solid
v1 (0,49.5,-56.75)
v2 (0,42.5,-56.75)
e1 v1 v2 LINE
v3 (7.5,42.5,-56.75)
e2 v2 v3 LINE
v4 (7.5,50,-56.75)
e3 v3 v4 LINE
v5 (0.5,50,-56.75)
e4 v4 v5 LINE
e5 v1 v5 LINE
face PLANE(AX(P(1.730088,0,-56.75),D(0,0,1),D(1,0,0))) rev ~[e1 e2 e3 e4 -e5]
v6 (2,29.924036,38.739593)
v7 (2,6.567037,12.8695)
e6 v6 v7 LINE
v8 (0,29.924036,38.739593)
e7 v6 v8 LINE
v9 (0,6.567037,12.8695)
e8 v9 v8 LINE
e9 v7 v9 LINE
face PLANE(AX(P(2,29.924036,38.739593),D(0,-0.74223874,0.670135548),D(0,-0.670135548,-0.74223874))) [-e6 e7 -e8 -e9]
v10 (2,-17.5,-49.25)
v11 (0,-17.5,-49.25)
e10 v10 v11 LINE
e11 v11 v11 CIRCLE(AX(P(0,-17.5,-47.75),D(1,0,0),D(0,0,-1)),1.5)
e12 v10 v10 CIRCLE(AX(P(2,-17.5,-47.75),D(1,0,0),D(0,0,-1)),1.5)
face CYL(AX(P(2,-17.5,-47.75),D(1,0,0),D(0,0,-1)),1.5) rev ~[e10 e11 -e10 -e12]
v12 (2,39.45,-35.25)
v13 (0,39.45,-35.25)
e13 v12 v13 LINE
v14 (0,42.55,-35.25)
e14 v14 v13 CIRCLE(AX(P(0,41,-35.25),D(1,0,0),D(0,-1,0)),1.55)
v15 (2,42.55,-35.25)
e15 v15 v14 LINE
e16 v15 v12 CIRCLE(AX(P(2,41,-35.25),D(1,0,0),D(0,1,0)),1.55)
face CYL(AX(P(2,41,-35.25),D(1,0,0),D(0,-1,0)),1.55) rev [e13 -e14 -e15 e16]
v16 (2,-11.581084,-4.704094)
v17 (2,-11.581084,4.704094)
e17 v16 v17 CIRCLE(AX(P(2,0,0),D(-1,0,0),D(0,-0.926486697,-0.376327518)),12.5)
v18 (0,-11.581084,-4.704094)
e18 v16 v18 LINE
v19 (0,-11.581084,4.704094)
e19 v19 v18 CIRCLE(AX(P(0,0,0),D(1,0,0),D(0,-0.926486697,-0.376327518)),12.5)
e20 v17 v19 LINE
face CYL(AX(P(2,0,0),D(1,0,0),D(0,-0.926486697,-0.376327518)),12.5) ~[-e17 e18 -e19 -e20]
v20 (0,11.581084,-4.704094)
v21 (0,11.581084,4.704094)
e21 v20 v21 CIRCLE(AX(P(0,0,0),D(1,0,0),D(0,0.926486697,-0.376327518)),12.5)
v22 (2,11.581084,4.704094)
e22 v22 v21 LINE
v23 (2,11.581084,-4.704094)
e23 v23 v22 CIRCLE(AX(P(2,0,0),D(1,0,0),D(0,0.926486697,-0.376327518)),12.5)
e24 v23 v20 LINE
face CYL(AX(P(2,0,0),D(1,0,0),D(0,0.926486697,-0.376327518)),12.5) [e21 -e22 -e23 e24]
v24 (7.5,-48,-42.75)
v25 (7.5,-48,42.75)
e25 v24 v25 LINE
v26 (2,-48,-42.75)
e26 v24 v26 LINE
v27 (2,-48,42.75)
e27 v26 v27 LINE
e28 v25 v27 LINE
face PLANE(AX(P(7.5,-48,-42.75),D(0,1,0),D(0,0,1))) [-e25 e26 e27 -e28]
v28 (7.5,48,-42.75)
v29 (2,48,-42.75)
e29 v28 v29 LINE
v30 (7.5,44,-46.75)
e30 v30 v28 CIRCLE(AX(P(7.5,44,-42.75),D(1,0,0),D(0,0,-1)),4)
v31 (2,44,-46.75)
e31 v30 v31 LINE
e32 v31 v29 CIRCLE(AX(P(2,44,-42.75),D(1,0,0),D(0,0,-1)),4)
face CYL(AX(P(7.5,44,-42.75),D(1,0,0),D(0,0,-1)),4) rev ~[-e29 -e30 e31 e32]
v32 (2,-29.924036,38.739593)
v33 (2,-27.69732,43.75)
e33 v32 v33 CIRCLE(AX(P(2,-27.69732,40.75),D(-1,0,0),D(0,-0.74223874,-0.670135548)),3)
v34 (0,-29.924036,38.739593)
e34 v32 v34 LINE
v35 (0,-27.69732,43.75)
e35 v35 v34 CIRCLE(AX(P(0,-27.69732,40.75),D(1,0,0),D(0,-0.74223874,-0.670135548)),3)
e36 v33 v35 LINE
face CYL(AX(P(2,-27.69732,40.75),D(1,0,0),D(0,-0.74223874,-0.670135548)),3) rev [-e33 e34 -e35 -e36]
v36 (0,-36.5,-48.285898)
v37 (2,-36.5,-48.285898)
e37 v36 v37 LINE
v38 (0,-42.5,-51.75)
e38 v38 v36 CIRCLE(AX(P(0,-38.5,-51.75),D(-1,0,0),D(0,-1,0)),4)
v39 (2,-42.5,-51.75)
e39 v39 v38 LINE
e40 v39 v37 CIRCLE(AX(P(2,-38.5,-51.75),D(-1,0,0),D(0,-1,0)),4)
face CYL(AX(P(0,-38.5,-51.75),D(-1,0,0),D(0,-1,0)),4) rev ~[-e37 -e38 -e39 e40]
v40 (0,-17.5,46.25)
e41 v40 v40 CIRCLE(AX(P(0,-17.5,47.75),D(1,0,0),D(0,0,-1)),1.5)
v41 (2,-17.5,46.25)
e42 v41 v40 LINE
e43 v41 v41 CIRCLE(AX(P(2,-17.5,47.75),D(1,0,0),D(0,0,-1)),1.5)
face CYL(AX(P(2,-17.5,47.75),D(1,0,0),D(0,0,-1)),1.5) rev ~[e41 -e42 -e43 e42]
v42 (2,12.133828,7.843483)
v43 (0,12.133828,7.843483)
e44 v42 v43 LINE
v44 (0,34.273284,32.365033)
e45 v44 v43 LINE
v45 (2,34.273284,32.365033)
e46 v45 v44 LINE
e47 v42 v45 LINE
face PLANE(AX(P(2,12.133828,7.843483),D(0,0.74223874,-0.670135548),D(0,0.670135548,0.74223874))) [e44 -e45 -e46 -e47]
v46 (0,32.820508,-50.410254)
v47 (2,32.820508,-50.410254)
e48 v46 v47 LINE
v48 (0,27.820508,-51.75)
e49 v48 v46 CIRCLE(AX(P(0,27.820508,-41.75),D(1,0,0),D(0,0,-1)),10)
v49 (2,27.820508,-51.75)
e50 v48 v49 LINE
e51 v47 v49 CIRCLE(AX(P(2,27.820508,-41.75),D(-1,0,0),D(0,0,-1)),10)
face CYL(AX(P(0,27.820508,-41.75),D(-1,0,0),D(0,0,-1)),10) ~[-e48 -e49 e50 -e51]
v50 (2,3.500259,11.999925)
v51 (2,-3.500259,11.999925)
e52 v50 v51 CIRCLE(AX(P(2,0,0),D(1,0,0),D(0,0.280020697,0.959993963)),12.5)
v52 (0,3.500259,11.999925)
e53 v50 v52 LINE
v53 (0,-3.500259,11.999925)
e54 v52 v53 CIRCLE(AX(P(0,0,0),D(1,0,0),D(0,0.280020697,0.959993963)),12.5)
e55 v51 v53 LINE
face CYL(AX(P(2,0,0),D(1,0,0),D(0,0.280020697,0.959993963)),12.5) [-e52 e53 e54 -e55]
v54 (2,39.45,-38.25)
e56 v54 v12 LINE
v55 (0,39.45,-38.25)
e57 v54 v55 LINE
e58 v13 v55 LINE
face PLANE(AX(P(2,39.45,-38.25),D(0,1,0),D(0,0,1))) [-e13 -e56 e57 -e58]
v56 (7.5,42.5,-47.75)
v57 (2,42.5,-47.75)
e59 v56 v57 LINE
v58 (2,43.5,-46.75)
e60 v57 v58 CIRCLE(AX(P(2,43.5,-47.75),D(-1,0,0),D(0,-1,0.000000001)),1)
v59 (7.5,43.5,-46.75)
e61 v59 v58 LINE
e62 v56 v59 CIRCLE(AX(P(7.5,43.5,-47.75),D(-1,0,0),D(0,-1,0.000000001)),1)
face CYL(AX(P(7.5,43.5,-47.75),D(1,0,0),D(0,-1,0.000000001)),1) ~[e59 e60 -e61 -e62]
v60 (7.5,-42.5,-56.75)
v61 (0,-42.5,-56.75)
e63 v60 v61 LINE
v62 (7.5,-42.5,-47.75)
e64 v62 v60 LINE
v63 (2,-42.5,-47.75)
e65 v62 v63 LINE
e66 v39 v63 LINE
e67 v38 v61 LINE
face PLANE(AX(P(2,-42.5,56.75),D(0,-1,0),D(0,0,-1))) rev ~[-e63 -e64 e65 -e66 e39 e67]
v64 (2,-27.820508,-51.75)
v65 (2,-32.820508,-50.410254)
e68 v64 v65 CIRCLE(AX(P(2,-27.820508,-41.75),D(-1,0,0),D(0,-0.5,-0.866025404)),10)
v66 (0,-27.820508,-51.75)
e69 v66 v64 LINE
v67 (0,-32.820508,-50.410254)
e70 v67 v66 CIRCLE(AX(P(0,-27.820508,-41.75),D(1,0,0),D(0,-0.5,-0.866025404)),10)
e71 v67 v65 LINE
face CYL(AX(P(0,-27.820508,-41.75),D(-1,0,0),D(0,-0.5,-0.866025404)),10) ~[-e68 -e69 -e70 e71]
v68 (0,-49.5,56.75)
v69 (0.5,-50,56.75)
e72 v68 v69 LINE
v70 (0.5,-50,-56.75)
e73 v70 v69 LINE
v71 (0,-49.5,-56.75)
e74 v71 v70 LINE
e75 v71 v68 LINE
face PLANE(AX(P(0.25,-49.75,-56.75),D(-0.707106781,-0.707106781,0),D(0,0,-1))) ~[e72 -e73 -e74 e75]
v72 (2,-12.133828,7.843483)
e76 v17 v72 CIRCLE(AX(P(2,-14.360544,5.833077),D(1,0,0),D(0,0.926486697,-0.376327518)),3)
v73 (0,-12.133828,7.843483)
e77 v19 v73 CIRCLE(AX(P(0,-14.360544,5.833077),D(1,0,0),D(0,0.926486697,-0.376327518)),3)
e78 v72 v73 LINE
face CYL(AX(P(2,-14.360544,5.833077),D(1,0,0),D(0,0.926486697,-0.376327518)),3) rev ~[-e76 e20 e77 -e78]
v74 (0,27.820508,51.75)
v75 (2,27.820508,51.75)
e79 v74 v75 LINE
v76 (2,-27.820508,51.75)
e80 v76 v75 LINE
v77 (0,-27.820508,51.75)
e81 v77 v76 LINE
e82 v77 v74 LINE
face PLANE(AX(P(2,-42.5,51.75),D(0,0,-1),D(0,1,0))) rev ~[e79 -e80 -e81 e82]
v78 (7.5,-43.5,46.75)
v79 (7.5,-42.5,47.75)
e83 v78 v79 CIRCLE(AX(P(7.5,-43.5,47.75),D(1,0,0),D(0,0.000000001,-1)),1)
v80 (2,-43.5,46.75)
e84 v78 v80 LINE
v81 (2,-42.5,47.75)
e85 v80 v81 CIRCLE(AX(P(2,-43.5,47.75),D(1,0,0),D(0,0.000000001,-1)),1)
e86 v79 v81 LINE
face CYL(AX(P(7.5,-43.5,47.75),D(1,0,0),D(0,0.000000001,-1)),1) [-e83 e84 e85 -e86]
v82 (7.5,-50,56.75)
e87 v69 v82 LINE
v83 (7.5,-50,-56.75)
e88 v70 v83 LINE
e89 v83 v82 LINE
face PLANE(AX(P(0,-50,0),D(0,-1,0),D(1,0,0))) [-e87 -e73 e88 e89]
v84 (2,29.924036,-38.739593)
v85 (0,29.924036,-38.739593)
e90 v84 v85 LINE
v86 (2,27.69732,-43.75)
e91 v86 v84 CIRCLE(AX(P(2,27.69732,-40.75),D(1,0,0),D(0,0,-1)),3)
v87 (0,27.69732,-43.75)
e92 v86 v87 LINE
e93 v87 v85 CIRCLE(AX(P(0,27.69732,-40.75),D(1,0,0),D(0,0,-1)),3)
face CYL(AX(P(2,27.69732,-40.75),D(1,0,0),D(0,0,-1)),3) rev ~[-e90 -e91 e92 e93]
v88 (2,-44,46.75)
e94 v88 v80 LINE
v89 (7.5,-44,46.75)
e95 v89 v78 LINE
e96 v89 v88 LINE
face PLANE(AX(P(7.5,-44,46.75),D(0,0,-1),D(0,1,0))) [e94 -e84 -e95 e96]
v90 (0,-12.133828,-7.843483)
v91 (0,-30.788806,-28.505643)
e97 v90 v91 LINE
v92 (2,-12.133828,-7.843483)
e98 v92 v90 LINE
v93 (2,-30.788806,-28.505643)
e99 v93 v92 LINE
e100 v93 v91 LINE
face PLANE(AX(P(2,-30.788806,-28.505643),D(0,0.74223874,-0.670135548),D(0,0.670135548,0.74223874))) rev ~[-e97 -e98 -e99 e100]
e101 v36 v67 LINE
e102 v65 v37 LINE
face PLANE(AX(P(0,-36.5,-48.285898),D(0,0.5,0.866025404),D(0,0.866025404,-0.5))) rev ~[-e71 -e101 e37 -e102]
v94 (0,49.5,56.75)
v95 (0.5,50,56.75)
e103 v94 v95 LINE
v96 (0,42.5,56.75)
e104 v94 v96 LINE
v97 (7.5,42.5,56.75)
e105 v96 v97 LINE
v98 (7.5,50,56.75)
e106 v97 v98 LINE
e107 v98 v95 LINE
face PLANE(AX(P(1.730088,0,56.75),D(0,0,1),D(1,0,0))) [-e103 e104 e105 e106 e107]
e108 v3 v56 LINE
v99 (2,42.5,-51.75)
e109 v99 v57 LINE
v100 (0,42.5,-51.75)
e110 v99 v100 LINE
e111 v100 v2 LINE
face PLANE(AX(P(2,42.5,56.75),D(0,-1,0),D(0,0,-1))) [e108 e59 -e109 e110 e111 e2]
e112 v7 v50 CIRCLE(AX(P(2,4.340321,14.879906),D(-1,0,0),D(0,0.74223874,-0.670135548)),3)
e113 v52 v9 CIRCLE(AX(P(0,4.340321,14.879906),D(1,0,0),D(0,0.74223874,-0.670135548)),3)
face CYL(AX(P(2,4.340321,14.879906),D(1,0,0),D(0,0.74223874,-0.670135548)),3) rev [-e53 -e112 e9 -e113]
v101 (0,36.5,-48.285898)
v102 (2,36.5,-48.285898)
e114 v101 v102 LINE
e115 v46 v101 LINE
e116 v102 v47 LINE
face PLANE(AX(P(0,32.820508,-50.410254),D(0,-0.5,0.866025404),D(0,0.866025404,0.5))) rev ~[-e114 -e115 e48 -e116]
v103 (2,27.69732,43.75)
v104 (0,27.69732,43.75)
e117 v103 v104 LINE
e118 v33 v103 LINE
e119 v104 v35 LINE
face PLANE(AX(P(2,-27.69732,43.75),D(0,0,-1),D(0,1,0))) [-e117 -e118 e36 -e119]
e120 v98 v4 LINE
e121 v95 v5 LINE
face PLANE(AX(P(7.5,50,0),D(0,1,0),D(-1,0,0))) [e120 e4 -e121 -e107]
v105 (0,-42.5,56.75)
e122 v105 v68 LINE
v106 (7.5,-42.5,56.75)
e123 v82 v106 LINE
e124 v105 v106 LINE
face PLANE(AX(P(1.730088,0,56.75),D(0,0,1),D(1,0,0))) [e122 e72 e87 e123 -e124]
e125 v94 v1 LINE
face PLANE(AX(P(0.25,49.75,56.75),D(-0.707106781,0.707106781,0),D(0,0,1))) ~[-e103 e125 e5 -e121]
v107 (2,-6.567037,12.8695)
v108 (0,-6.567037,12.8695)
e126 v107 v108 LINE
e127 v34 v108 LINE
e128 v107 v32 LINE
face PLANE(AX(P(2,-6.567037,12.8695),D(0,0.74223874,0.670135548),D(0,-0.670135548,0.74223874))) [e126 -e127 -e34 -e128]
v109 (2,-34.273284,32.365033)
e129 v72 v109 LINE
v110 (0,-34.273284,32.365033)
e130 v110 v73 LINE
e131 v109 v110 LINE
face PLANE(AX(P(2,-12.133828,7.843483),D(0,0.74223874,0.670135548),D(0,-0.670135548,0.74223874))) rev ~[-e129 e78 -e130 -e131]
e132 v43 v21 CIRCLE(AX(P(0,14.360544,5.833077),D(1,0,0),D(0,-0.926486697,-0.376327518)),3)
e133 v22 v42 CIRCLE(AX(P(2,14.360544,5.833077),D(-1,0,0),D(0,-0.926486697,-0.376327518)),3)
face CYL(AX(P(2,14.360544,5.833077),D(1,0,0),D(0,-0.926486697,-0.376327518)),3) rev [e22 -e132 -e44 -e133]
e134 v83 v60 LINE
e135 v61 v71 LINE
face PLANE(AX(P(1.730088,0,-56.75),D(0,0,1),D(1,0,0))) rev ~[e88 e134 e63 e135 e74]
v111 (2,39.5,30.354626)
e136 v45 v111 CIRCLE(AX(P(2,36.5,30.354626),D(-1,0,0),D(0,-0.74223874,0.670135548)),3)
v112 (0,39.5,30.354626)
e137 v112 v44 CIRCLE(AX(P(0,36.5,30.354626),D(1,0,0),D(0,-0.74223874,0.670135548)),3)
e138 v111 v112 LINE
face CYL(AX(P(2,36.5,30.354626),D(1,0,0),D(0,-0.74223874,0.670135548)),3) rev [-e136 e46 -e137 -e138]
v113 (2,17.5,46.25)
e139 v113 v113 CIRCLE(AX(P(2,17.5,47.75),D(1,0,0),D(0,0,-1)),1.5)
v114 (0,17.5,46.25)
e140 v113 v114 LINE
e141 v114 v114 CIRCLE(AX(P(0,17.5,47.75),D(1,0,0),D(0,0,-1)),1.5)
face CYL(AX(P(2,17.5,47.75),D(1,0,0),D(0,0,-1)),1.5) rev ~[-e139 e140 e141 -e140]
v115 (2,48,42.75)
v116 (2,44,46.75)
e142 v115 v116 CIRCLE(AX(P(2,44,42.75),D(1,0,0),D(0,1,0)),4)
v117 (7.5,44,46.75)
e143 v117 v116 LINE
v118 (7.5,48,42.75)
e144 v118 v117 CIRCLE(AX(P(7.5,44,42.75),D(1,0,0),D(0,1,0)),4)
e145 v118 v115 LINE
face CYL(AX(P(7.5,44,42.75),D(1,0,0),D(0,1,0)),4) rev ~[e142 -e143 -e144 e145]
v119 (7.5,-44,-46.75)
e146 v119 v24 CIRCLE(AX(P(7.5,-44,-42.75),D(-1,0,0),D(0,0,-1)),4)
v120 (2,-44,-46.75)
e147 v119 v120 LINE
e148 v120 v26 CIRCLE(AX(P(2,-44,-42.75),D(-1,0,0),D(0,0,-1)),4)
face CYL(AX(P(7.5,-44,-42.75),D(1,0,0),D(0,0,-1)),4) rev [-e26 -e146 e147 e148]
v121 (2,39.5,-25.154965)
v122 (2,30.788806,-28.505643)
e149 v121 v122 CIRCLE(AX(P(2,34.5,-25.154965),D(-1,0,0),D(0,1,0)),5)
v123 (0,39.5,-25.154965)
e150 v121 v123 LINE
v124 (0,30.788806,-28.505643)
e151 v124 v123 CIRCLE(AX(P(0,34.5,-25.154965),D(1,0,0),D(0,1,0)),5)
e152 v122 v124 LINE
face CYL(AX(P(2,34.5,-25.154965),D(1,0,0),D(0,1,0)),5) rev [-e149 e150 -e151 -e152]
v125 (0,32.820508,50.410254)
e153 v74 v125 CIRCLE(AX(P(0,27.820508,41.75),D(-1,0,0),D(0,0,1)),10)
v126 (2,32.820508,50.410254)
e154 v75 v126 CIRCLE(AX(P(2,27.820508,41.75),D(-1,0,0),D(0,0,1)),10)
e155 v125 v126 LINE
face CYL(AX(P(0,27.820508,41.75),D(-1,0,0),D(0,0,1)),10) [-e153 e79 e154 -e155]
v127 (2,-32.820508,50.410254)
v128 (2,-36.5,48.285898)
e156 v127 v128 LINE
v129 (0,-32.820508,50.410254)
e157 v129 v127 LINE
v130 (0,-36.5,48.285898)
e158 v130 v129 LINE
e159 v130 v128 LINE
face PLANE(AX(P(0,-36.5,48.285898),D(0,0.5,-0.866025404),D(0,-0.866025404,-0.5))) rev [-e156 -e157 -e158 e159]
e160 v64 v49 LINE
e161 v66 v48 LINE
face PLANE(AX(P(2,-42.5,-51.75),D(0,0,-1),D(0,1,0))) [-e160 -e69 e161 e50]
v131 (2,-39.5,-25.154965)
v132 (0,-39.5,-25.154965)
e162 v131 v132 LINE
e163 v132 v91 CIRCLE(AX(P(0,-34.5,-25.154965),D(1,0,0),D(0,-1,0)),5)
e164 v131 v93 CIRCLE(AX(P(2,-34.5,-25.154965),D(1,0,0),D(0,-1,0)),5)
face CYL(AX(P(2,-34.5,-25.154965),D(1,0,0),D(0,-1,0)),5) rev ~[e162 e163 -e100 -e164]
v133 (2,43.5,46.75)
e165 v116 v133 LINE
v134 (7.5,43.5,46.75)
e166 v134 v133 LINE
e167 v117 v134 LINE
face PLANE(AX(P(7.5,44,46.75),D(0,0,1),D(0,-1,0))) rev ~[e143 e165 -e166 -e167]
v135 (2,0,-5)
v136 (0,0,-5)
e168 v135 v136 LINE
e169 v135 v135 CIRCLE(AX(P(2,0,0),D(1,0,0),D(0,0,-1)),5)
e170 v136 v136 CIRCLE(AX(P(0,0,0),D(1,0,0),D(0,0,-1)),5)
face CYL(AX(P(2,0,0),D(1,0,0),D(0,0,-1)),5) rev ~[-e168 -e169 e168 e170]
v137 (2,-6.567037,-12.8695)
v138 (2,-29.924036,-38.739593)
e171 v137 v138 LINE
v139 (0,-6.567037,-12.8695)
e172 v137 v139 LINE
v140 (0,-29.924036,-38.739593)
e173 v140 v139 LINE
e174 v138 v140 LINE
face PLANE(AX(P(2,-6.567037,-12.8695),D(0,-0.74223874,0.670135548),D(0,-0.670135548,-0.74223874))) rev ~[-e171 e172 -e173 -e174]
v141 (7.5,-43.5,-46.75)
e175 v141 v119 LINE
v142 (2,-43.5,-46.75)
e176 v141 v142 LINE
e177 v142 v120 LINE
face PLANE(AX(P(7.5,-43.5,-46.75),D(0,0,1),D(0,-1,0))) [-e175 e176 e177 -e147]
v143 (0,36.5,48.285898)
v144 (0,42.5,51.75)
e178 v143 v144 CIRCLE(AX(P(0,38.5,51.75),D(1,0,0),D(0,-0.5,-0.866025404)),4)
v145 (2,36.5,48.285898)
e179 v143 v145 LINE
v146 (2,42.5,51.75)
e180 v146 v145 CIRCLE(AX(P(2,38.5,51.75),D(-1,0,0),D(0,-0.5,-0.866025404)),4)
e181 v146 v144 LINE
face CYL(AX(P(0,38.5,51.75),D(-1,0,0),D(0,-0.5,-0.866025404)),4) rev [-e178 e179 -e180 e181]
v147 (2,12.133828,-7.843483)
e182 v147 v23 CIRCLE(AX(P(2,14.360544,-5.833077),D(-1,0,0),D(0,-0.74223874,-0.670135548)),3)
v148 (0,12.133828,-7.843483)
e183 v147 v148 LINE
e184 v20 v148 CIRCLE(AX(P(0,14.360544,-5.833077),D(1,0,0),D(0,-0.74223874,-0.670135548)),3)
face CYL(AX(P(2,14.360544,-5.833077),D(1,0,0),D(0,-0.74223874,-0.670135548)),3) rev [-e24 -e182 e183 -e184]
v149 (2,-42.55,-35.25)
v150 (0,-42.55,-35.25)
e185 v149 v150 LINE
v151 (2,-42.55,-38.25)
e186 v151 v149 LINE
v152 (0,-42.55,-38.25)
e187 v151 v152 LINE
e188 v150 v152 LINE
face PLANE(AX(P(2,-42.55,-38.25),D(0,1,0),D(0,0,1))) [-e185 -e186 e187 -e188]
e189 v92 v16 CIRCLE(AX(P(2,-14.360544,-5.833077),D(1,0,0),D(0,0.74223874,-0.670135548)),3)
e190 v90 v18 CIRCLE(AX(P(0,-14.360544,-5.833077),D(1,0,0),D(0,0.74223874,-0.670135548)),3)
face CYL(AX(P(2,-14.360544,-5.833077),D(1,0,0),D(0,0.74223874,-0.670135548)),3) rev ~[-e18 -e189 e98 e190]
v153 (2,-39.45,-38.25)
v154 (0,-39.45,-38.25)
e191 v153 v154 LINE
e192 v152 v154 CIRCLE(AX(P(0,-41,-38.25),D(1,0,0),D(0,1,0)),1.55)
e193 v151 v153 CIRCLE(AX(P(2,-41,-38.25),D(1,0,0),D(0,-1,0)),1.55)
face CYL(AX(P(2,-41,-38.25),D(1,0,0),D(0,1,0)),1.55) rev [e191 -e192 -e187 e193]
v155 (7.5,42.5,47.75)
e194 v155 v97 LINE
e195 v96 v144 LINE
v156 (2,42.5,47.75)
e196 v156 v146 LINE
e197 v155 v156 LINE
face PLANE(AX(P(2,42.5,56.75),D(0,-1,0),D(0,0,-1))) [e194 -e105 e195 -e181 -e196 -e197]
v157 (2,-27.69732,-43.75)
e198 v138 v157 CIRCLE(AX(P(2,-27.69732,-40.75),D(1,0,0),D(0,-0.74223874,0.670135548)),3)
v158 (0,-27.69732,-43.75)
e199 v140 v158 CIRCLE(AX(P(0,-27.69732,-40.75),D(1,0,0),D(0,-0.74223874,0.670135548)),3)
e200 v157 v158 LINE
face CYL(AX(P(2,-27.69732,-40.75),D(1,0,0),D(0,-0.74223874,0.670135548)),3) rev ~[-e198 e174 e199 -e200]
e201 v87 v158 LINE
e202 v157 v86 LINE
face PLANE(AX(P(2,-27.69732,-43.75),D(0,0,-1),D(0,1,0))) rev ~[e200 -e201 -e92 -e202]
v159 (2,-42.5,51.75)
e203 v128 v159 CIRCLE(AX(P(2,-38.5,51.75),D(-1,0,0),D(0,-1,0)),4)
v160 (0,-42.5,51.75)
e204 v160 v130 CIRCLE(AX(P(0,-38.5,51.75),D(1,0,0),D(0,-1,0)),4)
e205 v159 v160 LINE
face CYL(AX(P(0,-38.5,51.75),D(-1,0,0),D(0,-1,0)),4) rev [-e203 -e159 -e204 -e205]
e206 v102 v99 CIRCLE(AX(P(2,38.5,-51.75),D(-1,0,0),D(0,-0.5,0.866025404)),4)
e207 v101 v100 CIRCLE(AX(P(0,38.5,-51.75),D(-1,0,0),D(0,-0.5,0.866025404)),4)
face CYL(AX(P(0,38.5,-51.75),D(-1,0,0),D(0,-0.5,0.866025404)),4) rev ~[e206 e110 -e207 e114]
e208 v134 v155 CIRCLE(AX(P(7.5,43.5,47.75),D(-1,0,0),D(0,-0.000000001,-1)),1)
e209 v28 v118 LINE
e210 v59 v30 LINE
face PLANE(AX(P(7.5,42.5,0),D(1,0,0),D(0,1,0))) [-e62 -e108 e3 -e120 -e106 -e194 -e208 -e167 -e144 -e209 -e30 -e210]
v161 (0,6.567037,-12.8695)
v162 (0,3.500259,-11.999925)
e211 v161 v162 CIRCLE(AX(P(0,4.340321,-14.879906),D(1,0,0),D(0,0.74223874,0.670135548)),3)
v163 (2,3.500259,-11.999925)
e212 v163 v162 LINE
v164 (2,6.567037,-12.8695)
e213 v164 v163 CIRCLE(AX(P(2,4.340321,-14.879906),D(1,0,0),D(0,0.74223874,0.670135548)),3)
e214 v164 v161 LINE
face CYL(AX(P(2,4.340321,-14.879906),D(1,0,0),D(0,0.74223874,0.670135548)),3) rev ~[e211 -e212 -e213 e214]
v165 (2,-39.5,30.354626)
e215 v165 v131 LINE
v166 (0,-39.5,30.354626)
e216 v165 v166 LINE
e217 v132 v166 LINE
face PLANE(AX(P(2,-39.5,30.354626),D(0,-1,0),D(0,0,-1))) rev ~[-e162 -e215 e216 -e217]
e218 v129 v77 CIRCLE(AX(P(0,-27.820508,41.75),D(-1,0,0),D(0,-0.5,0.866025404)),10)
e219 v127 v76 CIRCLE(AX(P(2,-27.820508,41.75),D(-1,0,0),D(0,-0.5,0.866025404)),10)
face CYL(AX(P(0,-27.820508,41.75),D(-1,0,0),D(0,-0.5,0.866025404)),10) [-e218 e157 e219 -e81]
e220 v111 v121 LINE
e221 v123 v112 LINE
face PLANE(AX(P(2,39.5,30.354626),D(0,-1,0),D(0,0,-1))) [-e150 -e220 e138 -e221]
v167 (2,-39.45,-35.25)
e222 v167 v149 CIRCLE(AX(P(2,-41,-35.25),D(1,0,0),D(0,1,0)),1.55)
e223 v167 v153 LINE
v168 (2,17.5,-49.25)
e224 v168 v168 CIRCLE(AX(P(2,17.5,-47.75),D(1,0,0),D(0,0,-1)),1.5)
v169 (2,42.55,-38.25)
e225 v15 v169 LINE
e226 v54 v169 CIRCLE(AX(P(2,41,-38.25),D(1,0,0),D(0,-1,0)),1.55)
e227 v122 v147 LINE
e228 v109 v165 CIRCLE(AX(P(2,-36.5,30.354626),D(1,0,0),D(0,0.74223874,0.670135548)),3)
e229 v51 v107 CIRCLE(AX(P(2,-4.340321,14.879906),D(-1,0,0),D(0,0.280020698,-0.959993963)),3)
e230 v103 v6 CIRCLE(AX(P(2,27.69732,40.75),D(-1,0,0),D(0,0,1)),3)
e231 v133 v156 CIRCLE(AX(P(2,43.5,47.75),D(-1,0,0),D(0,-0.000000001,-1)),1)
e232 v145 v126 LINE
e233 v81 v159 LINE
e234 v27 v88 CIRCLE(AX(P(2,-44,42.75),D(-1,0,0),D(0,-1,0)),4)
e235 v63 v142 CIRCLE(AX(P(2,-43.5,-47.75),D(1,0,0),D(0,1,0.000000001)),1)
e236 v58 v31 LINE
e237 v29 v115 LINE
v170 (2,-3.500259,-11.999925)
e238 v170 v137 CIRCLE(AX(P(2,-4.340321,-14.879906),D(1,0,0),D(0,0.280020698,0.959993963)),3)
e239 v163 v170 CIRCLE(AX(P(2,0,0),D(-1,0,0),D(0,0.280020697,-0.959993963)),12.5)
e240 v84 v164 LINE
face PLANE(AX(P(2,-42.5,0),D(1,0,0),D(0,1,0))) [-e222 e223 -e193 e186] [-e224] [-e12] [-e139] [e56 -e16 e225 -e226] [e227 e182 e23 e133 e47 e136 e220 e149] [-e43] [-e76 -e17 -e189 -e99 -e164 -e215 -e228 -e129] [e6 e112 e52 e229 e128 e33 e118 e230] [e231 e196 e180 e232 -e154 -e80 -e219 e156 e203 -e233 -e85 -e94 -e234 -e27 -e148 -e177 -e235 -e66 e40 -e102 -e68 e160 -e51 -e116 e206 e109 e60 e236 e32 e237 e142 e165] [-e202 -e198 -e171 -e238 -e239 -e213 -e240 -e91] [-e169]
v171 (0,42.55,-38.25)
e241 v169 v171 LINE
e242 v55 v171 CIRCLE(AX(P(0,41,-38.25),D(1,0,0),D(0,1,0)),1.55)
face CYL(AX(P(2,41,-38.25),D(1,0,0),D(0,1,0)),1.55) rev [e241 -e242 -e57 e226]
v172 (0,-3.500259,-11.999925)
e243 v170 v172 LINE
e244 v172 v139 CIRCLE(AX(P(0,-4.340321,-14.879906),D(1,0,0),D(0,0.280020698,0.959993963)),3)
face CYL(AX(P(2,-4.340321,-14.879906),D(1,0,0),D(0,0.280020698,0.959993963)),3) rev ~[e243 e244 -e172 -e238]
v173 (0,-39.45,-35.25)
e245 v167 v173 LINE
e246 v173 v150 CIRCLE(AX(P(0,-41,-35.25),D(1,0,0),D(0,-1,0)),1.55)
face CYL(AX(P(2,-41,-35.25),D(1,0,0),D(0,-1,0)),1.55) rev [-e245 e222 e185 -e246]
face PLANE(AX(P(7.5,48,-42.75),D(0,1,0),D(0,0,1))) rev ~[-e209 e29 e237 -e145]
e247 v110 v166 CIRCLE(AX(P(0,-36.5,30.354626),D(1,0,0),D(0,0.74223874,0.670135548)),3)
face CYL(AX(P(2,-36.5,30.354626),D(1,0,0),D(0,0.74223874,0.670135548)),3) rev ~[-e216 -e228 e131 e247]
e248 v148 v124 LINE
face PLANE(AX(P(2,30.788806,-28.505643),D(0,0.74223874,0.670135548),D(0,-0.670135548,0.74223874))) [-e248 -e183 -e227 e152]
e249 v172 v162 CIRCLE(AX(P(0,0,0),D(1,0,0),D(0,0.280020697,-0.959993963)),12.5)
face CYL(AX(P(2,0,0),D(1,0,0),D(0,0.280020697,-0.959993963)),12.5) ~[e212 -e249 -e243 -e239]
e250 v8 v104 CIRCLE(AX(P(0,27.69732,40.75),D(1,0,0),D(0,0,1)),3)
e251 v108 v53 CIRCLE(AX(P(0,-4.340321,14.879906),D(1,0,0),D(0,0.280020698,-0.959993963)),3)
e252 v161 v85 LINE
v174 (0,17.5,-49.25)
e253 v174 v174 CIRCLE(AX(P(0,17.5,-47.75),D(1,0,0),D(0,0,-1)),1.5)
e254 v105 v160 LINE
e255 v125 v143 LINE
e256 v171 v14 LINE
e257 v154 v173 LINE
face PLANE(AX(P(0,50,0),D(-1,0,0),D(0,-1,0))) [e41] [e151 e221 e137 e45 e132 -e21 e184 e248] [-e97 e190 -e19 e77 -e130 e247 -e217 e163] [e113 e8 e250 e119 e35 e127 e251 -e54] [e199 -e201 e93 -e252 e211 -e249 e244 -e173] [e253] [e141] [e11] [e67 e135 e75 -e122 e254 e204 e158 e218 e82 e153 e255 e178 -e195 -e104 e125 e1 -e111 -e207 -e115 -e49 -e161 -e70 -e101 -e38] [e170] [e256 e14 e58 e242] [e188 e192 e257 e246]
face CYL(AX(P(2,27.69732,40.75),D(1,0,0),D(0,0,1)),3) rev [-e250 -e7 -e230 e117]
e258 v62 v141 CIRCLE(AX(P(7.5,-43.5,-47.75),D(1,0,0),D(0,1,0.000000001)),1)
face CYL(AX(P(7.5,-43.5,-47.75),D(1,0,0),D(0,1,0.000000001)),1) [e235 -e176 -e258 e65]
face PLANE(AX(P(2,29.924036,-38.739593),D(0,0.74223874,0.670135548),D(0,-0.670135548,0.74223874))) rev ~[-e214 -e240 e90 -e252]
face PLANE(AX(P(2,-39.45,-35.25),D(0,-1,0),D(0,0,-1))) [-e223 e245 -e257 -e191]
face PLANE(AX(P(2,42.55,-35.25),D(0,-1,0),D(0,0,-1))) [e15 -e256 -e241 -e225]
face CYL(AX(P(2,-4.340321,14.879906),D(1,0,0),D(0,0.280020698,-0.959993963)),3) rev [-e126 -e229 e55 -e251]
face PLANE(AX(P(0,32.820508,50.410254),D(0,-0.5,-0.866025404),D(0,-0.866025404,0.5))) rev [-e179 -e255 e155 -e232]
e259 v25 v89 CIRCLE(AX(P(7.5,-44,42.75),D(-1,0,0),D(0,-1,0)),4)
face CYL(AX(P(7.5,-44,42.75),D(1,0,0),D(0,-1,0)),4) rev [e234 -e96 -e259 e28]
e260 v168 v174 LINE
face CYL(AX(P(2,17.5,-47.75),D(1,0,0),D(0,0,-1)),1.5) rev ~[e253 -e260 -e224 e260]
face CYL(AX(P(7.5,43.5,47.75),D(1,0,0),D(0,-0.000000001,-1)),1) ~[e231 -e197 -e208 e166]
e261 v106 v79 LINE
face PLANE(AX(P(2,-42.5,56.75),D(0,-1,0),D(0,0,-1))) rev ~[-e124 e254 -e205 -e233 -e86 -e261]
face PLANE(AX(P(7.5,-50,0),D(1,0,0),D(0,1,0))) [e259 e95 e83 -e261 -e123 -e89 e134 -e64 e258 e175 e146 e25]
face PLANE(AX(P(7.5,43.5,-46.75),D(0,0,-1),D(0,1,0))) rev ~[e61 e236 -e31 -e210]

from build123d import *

# Parameters (mm, degrees)
BOSS_EXTRUDE1_DEPTH = 56.75
SKETCH2_W           = 5
SKETCH2_H           = 85
SKETCH2_R           = 1.5
CUT_EXTRUDE1_DEPTH  = 2
SKETCH3_R           = 5
CUT_EXTRUDE2_DEPTH  = 3
CHAMFER1_SIZE       = 0.5
CUT_EXTRUDE3_DEPTH  = 5.5
CUT_EXTRUDE4_DEPTH  = 10


with BuildPart() as part:
    # Sketch1 → Boss-Extrude1 (new body, symmetric)
    with BuildSketch(Plane.XY):
        Polygon((0, 50), (0, -50), (7.5, -50), (7.5, -42.5), (2, -42.5), (2, 42.5), (7.5, 42.5), (7.5, 50), align=None)
    extrude(amount=BOSS_EXTRUDE1_DEPTH, both=True)

    # Sketch2 → Cut-Extrude1 (cut)
    with BuildSketch(Plane(origin=(2, 0, 0), x_dir=(0, 0, -1), z_dir=(1, 0, 0))):
        with Locations((-54.25, 0)):
            Rectangle(SKETCH2_W, SKETCH2_H)
        with Locations((54.25, 0)):
            Rectangle(SKETCH2_W, SKETCH2_H)
        with Locations((-47.75, 17.5)):
            Circle(SKETCH2_R)
        with Locations((-47.75, -17.5)):
            Circle(SKETCH2_R)
        with Locations((47.75, 17.5)):
            Circle(SKETCH2_R)
        with Locations((47.75, -17.5)):
            Circle(SKETCH2_R)
    extrude(amount=-CUT_EXTRUDE1_DEPTH, mode=Mode.SUBTRACT)

    # Sketch3 → Cut-Extrude2 (cut, through all)
    with BuildSketch(Plane(origin=(2, 0, 0), x_dir=(0, 0, -1), z_dir=(1, 0, 0))):
        Circle(SKETCH3_R)
        with BuildLine():
            Line((-30.354626116, -39.5), (25.154965406, -39.5))
            ThreePointArc((25.154965406, -39.5), (29.821654194, -36.294997423), (28.505643146, -30.7888063))
            Line((28.505643146, -30.7888063), (7.843483172, -12.13382758))
            ThreePointArc((7.843483172, -12.13382758), (6.353277021, -11.405989443), (4.704093974, -11.58108371))
            ThreePointArc((4.704093974, -11.58108371), (0, -12.5), (-4.704093974, -11.58108371))
            ThreePointArc((-4.704093974, -11.58108371), (-6.353277021, -11.405989443), (-7.843483172, -12.13382758))
            Line((-7.843483172, -12.13382758), (-32.36503276, -34.27328378))
            ThreePointArc((-32.36503276, -34.27328378), (-33.154639389, -37.576998454), (-30.354626116, -39.5))
        make_face()
        with BuildLine():
            Line((-43.75, -27.697319579), (-43.75, 27.697319579))
            ThreePointArc((-43.75, 27.697319579), (-41.968355463, 30.438780862), (-38.739593356, 29.924035799))
            Line((-38.739593356, 29.924035799), (-12.869499782, 6.56703703))
            ThreePointArc((-12.869499782, 6.56703703), (-11.993687913, 5.158698897), (-11.999924538, 3.500258718))
            ThreePointArc((-11.999924538, 3.500258718), (-12.5, 0), (-11.999924538, -3.500258718))
            ThreePointArc((-11.999924538, -3.500258718), (-11.993687913, -5.158698897), (-12.869499782, -6.56703703))
            Line((-12.869499782, -6.56703703), (-38.739593356, -29.924035799))
            ThreePointArc((-38.739593356, -29.924035799), (-41.968355463, -30.438780862), (-43.75, -27.697319579))
        make_face()
        with BuildLine():
            Line((-30.354626116, 39.5), (25.154965406, 39.5))
            ThreePointArc((25.154965406, 39.5), (29.821654194, 36.294997423), (28.505643146, 30.7888063))
            Line((28.505643146, 30.7888063), (7.843483172, 12.13382758))
            ThreePointArc((7.843483172, 12.13382758), (6.353277021, 11.405989443), (4.704093974, 11.58108371))
            ThreePointArc((4.704093974, 11.58108371), (0, 12.5), (-4.704093974, 11.58108371))
            ThreePointArc((-4.704093974, 11.58108371), (-6.353277021, 11.405989443), (-7.843483172, 12.13382758))
            Line((-7.843483172, 12.13382758), (-32.36503276, 34.27328378))
            ThreePointArc((-32.36503276, 34.27328378), (-33.154639389, 37.576998454), (-30.354626116, 39.5))
        make_face()
        with BuildLine():
            Line((43.75, -27.697319579), (43.75, 27.697319579))
            ThreePointArc((43.75, 27.697319579), (41.968355463, 30.438780862), (38.739593356, 29.924035799))
            Line((38.739593356, 29.924035799), (12.869499782, 6.56703703))
            ThreePointArc((12.869499782, 6.56703703), (11.993687913, 5.158698897), (11.999924538, 3.500258718))
            ThreePointArc((11.999924538, 3.500258718), (12.5, 0), (11.999924538, -3.500258718))
            ThreePointArc((11.999924538, -3.500258718), (11.993687913, -5.158698897), (12.869499782, -6.56703703))
            Line((12.869499782, -6.56703703), (38.739593356, -29.924035799))
            ThreePointArc((38.739593356, -29.924035799), (41.968355463, -30.438780862), (43.75, -27.697319579))
        make_face()
        with BuildLine():
            Line((35.25, -39.45), (38.25, -39.45))
            ThreePointArc((38.25, -39.45), (39.8, -41), (38.25, -42.55))
            Line((38.25, -42.55), (35.25, -42.55))
            ThreePointArc((35.25, -42.55), (33.7, -41), (35.25, -39.45))
        make_face()
        with BuildLine():
            Line((35.25, 42.55), (38.25, 42.55))
            ThreePointArc((38.25, 42.55), (39.8, 41), (38.25, 39.45))
            Line((38.25, 39.45), (35.25, 39.45))
            ThreePointArc((35.25, 39.45), (33.7, 41), (35.25, 42.55))
        make_face()
    extrude(amount=-CUT_EXTRUDE2_DEPTH, mode=Mode.SUBTRACT)

    # Chamfer1
    chamfer1_edges = [part.edges().sort_by_distance(p)[0] for p in [
        (0, -50, 0),
        (0, 50, 0),
    ]]
    chamfer(chamfer1_edges, length=CHAMFER1_SIZE)

    # Sketch4 → Cut-Extrude3 (cut)
    with BuildSketch(Plane(origin=(7.5, 0, 0), x_dir=(0, 0, -1), z_dir=(1, 0, 0))):
        with BuildLine():
            Line((42.75, -48), (-42.75, -48))
            ThreePointArc((-42.75, -48), (-45.578427125, -46.828427125), (-46.75, -44))
            Line((-46.75, -44), (-46.75, -43.5))
            ThreePointArc((-46.75, -43.5), (-47.042893219, -42.792893219), (-47.75, -42.5))
            Line((-47.75, -42.5), (47.75, -42.5))
            ThreePointArc((47.75, -42.5), (47.042893219, -42.792893219), (46.75, -43.5))
            Line((46.75, -43.5), (46.75, -44))
            ThreePointArc((46.75, -44), (45.578427125, -46.828427125), (42.75, -48))
        make_face()
        with BuildLine():
            Line((-46.75, 44), (-46.75, 43.5))
            ThreePointArc((-46.75, 43.5), (-47.042893219, 42.792893219), (-47.75, 42.5))
            Line((-47.75, 42.5), (47.75, 42.5))
            ThreePointArc((47.75, 42.5), (47.042893219, 42.792893219), (46.75, 43.5))
            Line((46.75, 43.5), (46.75, 44))
            ThreePointArc((46.75, 44), (45.578427125, 46.828427125), (42.75, 48))
            Line((42.75, 48), (-42.75, 48))
            ThreePointArc((-42.75, 48), (-45.578427125, 46.828427125), (-46.75, 44))
        make_face()
    extrude(amount=-CUT_EXTRUDE3_DEPTH, mode=Mode.SUBTRACT)

    # Sketch5 → Cut-Extrude4 (cut)
    with BuildSketch(Plane.ZY):
        with BuildLine():
            ThreePointArc((-51.75, 27.820508076), (-51.409258263, 30.408698527), (-50.410254038, 32.820508076))
            Line((-50.410254038, 32.820508076), (-48.285898385, 36.5))
            ThreePointArc((-48.285898385, 36.5), (-48.285898385, 40.5), (-51.75, 42.5))
            Line((-51.75, 42.5), (-51.75, 27.820508076))
        make_face()
        with BuildLine():
            ThreePointArc((-50.410254038, -32.820508076), (-51.409258263, -30.408698527), (-51.75, -27.820508076))
            Line((-51.75, -27.820508076), (-51.75, -42.5))
            ThreePointArc((-51.75, -42.5), (-48.285898385, -40.5), (-48.285898385, -36.5))
            Line((-48.285898385, -36.5), (-50.410254038, -32.820508076))
        make_face()
    cut_extrude4 = extrude(amount=-CUT_EXTRUDE4_DEPTH, mode=Mode.SUBTRACT)

    # Mirror1: Cut-Extrude4 across plane
    add(cut_extrude4.mirror(Plane.XY), mode=Mode.SUBTRACT)


solid = part.part
